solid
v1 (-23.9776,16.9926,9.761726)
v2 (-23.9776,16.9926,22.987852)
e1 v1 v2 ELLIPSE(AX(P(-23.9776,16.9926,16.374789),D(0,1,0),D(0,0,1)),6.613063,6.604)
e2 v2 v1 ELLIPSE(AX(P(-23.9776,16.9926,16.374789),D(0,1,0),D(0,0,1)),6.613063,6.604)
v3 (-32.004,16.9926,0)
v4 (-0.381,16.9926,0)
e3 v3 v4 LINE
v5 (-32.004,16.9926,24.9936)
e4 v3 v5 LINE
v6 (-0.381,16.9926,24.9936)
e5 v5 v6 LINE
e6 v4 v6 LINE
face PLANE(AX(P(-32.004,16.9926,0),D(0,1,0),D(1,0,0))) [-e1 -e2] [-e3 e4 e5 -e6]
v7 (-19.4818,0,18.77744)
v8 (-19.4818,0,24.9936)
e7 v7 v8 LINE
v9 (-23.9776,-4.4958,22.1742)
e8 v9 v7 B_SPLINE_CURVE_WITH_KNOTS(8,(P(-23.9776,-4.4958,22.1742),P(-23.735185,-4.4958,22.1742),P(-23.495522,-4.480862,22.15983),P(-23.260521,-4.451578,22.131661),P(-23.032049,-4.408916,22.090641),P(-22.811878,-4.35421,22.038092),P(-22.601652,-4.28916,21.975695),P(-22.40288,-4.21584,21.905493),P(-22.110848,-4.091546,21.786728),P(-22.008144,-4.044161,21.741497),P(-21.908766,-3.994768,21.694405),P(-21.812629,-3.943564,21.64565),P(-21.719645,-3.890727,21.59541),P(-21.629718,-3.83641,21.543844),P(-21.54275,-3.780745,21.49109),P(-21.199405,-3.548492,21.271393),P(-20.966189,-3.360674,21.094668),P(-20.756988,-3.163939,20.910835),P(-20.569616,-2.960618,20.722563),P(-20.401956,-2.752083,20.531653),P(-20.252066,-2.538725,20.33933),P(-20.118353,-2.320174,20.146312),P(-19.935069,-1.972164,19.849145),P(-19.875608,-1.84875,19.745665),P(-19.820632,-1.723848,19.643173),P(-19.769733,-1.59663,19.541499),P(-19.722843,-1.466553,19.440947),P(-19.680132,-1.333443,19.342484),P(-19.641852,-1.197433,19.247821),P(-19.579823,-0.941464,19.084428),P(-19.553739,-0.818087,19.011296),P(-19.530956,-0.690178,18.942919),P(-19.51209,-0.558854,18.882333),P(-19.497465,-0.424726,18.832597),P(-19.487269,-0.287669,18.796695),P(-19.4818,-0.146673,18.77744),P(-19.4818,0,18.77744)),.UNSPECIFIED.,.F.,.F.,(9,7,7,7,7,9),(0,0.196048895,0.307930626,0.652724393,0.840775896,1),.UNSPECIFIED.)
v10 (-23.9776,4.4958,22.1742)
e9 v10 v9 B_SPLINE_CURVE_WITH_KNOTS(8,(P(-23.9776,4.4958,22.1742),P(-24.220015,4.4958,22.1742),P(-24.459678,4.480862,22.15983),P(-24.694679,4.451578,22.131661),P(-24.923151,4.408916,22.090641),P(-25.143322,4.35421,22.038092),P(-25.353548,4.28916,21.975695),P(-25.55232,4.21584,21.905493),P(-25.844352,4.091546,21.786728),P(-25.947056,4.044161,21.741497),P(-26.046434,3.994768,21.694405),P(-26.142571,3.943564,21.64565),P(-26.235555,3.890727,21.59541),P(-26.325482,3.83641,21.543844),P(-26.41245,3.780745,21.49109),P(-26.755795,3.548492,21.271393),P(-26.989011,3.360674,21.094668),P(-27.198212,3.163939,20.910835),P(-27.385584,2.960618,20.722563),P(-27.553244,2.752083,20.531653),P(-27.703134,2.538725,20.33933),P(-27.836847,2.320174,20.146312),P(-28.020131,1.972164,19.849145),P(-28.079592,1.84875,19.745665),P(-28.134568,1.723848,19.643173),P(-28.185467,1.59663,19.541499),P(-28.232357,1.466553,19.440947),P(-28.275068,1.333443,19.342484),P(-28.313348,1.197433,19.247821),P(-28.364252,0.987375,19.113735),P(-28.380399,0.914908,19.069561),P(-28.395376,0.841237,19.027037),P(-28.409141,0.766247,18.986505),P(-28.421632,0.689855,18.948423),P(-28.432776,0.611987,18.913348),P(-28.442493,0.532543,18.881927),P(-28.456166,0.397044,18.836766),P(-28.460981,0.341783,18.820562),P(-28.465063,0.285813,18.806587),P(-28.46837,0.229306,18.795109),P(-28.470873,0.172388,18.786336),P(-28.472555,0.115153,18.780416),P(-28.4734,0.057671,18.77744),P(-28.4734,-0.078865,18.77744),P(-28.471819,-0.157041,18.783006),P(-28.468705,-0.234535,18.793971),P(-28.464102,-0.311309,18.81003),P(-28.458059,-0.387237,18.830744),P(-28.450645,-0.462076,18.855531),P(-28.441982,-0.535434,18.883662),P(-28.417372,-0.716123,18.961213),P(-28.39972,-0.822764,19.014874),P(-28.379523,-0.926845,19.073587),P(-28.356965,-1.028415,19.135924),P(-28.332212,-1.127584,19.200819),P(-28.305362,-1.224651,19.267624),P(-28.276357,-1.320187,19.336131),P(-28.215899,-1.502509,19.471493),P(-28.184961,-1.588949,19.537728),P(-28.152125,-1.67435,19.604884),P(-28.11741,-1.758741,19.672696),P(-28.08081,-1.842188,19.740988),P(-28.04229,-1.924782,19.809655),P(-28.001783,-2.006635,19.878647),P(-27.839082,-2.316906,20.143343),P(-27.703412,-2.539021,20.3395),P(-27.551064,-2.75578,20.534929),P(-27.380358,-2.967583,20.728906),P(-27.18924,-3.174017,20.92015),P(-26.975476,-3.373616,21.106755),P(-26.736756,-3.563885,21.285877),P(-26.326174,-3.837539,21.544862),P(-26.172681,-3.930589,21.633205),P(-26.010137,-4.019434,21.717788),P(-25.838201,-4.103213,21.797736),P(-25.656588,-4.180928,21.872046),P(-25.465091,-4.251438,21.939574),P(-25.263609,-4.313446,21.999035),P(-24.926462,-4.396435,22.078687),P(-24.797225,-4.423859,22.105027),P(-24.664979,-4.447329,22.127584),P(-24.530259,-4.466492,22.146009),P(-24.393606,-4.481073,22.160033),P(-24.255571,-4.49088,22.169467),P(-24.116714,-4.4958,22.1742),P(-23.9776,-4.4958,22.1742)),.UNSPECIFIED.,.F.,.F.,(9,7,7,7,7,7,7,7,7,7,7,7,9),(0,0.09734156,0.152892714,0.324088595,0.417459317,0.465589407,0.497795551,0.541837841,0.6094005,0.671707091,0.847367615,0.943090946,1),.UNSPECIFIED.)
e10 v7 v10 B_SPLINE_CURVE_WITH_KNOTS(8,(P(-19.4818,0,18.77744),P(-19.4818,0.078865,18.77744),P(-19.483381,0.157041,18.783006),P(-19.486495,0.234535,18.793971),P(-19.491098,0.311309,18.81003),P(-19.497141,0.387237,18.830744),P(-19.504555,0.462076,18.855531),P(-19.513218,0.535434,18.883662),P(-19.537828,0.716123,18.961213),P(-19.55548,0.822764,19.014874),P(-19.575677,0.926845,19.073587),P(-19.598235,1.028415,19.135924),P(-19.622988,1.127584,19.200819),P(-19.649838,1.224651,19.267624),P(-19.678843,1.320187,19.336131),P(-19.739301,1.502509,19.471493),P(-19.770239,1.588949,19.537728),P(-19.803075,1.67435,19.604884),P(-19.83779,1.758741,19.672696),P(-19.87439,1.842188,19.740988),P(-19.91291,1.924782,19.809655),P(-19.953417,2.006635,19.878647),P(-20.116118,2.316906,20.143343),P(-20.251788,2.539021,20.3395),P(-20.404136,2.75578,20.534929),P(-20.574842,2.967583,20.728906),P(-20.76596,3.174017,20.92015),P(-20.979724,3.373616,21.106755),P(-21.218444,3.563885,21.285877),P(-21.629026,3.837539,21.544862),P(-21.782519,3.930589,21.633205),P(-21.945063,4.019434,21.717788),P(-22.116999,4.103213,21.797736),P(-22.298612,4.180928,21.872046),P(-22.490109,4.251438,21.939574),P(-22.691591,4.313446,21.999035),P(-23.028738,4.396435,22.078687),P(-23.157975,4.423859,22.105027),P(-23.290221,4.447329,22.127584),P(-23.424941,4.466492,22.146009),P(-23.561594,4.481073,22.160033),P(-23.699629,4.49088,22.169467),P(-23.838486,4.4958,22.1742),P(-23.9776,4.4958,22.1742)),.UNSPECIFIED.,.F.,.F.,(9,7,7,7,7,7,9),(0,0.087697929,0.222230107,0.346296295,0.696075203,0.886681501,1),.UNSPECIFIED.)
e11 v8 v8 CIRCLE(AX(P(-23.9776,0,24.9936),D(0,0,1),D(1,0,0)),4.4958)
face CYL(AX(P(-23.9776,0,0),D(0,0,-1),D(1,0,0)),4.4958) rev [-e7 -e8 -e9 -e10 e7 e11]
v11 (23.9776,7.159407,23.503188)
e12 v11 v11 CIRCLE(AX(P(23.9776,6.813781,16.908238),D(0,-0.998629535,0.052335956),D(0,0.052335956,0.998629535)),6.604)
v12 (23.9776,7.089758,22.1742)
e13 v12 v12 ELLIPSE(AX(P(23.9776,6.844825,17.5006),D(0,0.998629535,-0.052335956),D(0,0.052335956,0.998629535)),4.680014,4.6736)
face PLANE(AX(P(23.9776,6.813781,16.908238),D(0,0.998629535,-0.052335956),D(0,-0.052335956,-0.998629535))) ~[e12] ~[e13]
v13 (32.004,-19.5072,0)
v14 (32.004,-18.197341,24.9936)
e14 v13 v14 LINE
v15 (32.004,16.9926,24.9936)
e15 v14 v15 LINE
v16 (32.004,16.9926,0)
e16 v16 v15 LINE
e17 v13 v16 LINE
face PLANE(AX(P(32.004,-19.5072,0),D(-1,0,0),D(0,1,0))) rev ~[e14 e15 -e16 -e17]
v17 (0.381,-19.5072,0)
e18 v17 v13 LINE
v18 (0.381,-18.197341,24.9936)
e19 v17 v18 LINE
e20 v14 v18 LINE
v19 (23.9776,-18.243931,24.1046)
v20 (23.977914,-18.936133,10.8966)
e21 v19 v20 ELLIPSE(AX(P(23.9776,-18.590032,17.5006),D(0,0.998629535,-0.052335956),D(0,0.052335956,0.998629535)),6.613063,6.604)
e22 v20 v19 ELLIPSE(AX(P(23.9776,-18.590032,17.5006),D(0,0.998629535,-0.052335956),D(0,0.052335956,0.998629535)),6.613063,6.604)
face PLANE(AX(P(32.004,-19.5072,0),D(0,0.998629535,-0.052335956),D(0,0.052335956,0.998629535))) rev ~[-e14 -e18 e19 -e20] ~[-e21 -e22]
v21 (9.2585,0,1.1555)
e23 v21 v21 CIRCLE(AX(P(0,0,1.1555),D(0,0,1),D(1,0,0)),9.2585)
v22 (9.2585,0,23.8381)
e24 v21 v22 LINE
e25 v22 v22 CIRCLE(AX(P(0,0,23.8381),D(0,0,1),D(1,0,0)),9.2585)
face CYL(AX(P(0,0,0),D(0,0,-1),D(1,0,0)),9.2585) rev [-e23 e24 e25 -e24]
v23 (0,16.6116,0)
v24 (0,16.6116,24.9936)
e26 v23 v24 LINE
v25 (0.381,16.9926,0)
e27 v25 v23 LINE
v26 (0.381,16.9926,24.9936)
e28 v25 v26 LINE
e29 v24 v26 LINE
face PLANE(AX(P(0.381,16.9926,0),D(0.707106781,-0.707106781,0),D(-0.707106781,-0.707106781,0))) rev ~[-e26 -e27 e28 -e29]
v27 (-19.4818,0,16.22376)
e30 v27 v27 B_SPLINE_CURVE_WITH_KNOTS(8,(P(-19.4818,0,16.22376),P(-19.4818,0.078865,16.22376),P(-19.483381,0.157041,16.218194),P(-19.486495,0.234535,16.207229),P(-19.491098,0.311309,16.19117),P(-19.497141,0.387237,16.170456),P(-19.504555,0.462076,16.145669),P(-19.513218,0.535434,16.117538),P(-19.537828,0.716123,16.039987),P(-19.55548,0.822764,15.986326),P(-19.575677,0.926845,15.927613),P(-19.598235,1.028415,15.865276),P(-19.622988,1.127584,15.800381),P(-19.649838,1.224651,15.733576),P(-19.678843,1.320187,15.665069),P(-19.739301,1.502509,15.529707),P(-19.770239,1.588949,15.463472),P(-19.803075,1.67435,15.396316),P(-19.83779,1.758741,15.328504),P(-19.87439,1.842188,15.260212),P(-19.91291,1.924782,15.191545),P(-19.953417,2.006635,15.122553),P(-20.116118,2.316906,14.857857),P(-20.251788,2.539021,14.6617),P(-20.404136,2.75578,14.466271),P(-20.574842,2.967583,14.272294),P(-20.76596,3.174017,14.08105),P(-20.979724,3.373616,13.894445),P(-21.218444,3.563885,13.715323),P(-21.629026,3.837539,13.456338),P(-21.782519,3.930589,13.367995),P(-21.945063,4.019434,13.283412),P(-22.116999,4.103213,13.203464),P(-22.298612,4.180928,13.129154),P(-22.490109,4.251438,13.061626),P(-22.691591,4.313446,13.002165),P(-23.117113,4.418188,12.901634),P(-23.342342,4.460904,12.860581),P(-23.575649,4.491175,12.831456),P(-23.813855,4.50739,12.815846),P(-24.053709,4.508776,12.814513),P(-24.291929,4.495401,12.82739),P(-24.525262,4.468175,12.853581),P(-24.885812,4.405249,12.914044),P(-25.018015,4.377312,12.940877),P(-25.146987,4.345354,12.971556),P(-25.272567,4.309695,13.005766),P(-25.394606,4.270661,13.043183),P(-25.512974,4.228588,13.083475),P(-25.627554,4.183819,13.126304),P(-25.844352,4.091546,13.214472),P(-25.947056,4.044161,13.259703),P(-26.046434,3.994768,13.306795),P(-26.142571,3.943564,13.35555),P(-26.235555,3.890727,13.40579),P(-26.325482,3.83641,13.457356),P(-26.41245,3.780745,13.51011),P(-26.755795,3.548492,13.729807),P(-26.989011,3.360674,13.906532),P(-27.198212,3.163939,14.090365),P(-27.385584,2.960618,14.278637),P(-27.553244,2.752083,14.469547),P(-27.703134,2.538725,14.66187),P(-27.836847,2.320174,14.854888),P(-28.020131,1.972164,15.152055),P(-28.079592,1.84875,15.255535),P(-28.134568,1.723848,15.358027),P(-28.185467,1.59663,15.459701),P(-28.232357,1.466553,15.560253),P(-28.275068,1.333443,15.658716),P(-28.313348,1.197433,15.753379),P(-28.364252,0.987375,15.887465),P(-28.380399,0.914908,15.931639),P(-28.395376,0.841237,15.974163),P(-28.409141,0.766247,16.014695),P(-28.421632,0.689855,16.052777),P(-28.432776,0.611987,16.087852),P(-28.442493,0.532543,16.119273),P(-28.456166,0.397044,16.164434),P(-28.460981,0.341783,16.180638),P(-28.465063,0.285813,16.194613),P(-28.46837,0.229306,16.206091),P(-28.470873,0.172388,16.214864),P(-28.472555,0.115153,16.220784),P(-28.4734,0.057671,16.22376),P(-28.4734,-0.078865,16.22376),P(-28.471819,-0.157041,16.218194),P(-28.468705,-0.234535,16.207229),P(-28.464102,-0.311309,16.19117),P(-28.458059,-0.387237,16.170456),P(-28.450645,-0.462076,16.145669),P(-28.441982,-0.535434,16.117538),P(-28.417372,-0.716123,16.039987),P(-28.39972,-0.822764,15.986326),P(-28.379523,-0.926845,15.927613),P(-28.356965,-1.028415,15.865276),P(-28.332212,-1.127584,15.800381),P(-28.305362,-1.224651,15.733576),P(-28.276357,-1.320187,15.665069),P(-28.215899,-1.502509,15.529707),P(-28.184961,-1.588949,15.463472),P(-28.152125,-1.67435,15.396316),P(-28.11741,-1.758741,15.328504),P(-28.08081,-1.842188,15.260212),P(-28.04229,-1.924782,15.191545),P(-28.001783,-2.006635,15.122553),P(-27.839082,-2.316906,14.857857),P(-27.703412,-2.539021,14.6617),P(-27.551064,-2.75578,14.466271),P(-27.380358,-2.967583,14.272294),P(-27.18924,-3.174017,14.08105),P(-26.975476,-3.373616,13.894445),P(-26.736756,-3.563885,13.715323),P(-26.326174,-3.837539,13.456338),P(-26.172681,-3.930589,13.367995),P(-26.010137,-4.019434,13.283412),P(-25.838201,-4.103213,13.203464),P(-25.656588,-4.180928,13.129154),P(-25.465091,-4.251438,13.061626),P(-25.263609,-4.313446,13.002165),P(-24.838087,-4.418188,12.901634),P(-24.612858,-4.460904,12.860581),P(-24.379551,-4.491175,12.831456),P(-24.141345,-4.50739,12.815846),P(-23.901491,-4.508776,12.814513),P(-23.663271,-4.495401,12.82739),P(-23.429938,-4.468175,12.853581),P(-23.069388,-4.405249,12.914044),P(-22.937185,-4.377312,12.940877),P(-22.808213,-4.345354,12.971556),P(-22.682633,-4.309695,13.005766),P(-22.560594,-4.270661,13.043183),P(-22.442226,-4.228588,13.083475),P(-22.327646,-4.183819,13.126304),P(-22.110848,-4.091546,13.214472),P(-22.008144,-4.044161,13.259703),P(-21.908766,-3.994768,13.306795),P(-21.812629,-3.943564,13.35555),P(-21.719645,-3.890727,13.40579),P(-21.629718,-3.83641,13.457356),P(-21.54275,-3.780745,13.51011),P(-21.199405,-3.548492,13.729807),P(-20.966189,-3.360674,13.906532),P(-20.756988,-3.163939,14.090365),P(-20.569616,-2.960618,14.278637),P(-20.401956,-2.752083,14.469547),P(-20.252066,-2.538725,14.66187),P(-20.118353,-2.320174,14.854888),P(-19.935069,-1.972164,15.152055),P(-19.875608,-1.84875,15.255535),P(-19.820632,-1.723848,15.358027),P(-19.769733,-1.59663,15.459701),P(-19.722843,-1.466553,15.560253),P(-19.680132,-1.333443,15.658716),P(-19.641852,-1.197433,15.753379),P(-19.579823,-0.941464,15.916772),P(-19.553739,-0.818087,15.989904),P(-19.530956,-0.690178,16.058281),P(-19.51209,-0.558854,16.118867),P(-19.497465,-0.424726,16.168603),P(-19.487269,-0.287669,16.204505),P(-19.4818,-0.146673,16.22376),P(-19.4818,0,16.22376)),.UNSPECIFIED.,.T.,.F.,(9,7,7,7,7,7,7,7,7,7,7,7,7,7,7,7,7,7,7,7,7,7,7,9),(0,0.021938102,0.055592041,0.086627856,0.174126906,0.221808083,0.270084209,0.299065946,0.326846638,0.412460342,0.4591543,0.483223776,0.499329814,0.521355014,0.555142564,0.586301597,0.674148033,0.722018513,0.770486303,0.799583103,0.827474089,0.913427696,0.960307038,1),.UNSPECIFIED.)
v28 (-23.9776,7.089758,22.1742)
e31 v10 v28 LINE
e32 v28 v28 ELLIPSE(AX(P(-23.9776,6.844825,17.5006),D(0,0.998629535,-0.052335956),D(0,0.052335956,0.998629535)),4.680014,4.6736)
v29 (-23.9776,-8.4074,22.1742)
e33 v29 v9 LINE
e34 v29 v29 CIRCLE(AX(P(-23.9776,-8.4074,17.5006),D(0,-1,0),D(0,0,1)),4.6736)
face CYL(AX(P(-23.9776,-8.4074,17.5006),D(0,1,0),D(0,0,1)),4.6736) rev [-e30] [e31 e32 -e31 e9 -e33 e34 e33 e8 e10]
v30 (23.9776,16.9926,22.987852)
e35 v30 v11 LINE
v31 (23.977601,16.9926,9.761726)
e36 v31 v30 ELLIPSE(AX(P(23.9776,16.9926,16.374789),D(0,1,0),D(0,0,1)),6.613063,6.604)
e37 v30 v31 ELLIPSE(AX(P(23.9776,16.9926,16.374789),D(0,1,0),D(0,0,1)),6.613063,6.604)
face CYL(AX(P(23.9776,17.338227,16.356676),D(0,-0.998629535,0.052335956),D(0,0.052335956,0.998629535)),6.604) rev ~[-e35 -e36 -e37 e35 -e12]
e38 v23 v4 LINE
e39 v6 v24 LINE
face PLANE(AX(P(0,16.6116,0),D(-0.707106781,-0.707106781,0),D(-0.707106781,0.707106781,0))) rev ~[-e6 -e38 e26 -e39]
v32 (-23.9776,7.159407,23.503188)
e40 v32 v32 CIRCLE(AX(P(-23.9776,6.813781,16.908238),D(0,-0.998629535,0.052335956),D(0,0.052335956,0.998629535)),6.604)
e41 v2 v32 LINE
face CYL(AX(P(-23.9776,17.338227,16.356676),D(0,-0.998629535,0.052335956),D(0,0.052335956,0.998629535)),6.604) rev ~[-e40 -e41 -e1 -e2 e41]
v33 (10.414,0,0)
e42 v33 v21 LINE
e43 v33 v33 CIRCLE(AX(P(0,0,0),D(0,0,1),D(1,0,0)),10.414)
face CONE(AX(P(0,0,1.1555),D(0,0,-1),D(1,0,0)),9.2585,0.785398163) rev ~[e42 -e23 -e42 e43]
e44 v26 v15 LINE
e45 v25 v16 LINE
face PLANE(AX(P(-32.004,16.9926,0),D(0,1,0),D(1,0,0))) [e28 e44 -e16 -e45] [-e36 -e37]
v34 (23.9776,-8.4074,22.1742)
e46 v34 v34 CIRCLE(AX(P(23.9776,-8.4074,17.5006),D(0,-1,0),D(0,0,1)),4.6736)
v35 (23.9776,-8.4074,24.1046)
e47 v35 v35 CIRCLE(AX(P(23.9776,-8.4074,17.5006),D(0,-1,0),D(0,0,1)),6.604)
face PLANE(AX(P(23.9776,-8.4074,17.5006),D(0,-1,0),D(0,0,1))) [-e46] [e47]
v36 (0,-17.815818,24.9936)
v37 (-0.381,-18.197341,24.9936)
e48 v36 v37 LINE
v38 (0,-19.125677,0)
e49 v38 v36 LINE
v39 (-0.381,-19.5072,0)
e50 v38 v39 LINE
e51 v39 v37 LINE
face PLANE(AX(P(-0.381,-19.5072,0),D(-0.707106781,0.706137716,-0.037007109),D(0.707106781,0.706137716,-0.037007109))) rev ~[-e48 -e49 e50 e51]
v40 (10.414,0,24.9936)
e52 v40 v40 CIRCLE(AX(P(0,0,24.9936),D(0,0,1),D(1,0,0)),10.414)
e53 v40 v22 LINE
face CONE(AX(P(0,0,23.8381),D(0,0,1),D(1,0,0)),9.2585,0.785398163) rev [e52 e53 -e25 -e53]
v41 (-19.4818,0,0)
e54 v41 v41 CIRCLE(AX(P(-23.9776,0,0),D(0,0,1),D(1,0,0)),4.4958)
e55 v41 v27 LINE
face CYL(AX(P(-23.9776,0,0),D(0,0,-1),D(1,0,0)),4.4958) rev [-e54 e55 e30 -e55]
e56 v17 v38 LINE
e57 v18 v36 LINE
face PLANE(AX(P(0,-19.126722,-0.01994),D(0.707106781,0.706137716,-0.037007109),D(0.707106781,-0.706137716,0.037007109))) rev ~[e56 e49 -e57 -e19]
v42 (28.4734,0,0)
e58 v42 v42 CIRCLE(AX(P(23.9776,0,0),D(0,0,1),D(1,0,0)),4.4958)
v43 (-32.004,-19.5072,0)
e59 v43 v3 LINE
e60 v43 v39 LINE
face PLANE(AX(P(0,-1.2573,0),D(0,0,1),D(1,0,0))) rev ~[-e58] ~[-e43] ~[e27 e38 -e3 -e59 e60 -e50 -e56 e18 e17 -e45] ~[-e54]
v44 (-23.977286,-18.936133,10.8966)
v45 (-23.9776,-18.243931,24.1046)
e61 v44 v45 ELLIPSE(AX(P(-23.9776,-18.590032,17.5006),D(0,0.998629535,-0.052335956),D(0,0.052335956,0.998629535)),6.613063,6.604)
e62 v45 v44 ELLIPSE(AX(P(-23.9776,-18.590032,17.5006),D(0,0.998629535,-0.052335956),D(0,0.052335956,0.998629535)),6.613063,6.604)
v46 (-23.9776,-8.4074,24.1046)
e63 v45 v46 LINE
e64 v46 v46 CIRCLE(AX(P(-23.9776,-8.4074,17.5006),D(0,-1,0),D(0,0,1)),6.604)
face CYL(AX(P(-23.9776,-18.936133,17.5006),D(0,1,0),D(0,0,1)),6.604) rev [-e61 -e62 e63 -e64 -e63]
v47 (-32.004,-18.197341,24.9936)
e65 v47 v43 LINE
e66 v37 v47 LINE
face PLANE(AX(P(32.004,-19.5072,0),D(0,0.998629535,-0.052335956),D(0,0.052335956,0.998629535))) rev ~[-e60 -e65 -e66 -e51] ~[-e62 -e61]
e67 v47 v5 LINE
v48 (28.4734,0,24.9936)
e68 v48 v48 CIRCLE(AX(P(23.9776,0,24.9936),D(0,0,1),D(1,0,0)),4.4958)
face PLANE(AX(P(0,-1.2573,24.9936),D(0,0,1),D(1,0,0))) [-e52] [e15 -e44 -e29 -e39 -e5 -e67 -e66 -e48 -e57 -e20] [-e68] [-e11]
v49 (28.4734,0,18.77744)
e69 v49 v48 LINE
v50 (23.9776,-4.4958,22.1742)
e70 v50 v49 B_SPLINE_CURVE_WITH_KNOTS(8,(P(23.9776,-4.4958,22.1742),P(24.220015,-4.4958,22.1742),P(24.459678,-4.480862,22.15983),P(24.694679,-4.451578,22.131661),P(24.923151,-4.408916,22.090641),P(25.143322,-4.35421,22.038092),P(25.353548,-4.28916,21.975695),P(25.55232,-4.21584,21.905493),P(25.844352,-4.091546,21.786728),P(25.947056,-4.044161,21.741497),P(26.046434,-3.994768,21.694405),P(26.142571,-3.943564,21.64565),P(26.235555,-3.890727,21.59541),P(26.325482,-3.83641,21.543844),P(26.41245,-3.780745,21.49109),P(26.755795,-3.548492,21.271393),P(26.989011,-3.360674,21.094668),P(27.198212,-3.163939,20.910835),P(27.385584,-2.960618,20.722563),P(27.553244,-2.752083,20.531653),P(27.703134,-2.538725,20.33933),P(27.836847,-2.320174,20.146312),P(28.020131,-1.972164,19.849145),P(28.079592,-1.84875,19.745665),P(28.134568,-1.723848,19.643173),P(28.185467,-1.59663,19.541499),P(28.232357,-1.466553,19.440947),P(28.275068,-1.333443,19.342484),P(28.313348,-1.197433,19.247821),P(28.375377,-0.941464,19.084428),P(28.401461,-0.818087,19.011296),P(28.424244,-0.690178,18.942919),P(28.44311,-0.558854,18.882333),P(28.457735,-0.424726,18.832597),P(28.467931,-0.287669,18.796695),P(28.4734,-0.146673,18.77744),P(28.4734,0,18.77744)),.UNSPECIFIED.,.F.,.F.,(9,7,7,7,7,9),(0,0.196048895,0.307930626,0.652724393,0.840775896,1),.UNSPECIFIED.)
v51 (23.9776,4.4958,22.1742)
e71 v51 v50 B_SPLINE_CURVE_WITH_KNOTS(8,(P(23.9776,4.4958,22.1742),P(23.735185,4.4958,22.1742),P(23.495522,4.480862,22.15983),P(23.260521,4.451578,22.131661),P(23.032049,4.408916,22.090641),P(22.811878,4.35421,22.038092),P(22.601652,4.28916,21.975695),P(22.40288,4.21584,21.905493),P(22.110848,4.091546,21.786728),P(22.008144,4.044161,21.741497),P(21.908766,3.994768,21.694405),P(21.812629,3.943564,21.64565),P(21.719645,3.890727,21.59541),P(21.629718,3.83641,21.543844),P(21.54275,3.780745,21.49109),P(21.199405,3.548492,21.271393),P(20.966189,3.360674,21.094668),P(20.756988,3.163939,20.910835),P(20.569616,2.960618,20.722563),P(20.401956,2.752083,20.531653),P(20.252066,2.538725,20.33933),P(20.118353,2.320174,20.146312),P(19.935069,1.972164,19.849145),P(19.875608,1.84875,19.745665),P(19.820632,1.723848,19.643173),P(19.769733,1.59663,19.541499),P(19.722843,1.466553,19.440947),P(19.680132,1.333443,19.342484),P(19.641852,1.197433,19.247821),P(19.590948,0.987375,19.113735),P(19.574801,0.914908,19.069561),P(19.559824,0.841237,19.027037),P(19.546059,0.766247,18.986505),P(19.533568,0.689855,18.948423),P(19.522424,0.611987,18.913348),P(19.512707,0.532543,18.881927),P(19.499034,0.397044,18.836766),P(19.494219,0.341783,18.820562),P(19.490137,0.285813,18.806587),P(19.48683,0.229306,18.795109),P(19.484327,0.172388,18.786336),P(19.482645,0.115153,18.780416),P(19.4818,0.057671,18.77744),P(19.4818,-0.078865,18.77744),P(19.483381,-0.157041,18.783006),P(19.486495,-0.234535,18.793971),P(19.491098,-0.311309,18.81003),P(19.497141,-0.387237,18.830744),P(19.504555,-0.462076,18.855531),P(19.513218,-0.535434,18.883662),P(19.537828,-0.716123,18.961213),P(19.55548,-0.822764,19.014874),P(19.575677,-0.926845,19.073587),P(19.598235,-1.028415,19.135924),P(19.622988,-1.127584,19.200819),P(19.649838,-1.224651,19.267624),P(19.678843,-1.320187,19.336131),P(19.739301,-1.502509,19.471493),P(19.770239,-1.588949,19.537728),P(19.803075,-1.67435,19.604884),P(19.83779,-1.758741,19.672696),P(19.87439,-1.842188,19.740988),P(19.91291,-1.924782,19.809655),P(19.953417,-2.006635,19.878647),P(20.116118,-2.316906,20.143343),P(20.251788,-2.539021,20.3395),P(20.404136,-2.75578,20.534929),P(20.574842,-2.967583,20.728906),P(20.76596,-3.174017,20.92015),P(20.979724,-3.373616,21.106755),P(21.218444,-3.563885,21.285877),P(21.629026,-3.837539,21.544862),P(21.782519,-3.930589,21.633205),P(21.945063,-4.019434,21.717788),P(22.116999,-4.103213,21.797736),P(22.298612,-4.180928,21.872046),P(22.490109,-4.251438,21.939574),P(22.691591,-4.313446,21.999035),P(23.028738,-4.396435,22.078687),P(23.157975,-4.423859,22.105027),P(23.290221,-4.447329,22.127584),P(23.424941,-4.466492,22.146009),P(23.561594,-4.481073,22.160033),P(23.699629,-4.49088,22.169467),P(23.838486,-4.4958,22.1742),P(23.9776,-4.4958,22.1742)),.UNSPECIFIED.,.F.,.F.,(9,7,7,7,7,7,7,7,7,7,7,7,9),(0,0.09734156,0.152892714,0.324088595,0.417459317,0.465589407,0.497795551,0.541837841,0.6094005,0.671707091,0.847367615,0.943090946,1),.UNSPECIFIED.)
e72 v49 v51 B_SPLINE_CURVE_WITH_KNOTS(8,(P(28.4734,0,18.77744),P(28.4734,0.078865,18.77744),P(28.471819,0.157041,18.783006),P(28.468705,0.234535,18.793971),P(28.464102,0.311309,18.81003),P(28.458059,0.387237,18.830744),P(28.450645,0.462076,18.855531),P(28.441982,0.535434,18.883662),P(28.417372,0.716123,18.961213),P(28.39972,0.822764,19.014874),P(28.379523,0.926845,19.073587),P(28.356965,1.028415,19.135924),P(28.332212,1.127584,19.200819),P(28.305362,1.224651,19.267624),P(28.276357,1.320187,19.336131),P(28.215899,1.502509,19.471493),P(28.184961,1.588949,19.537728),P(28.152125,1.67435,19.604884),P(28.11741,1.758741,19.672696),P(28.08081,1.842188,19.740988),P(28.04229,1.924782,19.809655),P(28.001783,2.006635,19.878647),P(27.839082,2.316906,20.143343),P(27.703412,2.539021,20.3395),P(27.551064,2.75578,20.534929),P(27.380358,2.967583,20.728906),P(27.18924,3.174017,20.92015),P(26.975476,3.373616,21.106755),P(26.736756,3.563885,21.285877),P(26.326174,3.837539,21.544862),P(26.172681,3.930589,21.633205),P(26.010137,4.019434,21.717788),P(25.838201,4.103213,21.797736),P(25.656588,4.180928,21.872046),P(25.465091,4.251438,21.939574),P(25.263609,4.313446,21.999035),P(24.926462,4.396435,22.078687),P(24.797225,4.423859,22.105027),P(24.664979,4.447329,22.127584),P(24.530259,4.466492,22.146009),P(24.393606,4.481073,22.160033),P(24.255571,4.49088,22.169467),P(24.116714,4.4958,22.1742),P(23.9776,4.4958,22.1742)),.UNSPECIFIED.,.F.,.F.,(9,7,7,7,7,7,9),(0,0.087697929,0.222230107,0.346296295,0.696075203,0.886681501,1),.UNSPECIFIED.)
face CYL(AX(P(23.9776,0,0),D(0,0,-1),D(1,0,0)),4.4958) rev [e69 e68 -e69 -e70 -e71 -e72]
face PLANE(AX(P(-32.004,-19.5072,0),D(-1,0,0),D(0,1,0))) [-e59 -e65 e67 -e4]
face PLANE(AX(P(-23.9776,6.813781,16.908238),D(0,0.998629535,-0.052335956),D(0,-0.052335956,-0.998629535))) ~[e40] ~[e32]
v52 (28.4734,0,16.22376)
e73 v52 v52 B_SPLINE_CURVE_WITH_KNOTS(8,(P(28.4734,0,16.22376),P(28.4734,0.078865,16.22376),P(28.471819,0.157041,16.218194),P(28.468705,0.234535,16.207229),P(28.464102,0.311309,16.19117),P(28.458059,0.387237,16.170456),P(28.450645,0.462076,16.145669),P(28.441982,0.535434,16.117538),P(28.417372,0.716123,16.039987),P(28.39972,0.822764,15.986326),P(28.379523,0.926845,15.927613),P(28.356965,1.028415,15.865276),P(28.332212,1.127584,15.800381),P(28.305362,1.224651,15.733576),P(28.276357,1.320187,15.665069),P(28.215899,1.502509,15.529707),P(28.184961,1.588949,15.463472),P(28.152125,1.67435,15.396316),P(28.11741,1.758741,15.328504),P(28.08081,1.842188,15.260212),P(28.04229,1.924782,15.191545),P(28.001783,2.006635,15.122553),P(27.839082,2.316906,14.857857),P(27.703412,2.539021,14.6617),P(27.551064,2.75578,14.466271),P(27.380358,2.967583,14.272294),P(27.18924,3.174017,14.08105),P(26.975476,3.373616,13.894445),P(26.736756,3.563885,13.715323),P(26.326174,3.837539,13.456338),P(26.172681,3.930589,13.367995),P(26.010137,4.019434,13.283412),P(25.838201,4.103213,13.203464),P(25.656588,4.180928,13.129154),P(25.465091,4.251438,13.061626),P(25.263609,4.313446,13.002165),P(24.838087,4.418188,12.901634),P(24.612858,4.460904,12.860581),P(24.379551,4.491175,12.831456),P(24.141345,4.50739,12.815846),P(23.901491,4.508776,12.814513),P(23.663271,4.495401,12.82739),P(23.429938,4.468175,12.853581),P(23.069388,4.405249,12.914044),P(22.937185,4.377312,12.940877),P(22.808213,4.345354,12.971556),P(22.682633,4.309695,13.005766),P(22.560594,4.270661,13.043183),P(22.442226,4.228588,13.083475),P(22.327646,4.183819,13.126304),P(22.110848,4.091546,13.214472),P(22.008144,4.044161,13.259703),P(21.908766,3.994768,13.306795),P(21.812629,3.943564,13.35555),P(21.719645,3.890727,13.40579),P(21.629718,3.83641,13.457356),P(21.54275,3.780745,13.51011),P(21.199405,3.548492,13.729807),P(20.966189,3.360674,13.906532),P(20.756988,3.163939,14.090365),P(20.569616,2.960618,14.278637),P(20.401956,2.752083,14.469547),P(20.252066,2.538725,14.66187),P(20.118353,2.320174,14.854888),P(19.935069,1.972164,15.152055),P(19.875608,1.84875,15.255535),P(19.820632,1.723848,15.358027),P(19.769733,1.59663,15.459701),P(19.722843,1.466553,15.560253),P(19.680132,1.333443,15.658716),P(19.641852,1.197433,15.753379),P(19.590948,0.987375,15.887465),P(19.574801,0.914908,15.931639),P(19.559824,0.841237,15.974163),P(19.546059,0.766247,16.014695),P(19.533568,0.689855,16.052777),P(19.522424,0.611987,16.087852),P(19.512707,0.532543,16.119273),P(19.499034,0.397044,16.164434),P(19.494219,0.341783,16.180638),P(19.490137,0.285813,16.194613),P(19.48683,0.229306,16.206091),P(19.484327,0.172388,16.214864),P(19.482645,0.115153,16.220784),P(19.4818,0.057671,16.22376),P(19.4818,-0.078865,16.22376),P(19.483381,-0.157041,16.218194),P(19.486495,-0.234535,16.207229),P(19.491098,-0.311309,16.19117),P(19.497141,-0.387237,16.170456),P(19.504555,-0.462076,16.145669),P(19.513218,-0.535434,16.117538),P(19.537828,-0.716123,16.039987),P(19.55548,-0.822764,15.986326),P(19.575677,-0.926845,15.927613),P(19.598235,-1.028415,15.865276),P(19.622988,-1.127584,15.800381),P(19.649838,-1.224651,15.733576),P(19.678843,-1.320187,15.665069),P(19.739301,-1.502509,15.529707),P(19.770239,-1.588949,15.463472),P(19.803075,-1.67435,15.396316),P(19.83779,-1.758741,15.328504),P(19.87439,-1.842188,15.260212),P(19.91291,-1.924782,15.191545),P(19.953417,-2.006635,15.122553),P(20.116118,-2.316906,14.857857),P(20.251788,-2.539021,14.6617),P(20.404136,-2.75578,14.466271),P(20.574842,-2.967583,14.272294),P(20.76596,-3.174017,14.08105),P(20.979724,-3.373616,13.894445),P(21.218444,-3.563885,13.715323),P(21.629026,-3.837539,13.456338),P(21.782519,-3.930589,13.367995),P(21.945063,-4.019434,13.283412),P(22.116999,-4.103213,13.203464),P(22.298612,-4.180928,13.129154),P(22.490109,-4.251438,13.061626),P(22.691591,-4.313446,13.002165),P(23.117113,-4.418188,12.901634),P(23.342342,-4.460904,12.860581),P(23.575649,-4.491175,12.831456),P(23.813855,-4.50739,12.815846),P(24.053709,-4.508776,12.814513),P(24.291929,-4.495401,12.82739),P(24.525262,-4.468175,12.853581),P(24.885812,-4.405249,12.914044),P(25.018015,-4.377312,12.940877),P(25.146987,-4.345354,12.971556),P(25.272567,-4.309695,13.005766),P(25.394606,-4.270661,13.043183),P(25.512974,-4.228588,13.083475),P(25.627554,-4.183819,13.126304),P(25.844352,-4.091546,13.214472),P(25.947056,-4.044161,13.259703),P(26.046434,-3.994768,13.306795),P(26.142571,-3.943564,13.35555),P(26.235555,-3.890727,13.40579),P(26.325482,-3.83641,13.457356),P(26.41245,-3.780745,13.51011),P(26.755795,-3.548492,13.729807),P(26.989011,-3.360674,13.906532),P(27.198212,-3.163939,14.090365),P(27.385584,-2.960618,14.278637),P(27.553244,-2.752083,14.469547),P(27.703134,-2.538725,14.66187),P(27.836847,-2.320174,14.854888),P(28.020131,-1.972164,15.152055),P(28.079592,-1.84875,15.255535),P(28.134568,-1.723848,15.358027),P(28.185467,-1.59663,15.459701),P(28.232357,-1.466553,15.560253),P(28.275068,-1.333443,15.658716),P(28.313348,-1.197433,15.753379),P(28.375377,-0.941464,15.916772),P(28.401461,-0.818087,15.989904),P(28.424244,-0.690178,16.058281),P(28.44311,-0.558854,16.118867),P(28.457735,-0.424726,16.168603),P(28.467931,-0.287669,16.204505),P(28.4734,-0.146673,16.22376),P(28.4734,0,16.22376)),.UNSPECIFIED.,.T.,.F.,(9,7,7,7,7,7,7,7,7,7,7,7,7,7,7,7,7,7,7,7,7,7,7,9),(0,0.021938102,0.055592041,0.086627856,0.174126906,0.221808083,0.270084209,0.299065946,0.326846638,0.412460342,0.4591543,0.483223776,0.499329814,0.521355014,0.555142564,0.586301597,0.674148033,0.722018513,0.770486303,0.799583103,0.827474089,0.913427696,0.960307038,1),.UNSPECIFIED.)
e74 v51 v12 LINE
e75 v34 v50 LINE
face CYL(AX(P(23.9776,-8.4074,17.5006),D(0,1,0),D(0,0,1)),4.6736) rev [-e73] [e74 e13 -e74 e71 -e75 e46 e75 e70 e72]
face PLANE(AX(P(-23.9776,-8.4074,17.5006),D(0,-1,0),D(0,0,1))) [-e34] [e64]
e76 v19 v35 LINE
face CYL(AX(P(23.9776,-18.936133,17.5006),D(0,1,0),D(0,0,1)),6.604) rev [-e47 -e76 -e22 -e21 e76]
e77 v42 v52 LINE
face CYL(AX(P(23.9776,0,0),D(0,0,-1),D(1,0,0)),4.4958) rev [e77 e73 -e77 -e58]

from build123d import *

# Parameters (mm, degrees)
SKETCH1_W          = 64.008
SKETCH1_H          = 36.4998
SKETCH1_R          = 9.2585
SKETCH1_R_2        = 4.4958
EXTRUDE1_DEPTH     = 24.9936
CUT_EXTRUDE1_DEPTH = 65.008
LPATTERN1_COUNT    = 2
LPATTERN1_PITCH    = 47.9552
CHAMFER1_SIZE      = 1.1555
CUT_EXTRUDE2_DEPTH = 25.9936001
CUT_EXTRUDE3_DEPTH = 27.869599175


with BuildPart() as part:
    # Sketch1 → Extrude1 (new body)
    with BuildSketch(Plane.XY):
        with Locations((0, -1.2573)):
            Rectangle(SKETCH1_W, SKETCH1_H)
        Circle(SKETCH1_R, mode=Mode.SUBTRACT)
        with Locations((-23.9776, 0)):
            Circle(SKETCH1_R_2, mode=Mode.SUBTRACT)
        with Locations((23.9776, 0)):
            Circle(SKETCH1_R_2, mode=Mode.SUBTRACT)
    extrude(amount=EXTRUDE1_DEPTH)

    # Sketch2 → Cut-Extrude1 (cut, through all)
    with BuildSketch(Plane(origin=(32.004, 0, 0), x_dir=(0, 0, -1), z_dir=(1, 0, 0))):
        Polygon((0, -19.5072), (-24.9936, -18.197340928), (-24.9936, -19.5072), align=None)
    extrude(amount=-CUT_EXTRUDE1_DEPTH, mode=Mode.SUBTRACT)

    # Sketch3 → Cut-Revolve1 (revolve, cut)
    with BuildSketch(Plane(origin=(-23.9776, 0, 0), x_dir=(0, 0, -1), z_dir=(1, 0, 0)), mode=Mode.PRIVATE) as cut_revolve1_sk:
        Polygon((-10.8966, -18.936133392), (-10.8966, -8.4074), (-12.827, -8.4074), (-12.827, 16.9926), (-17.5006, 16.9926), (-17.5006, -18.936133392), align=None)
    cut_revolve1 = revolve(cut_revolve1_sk.sketch.rotate(Axis((-23.9776, 16.931830478, 17.5006), (0, -1, 0)), 180), axis=Axis((-23.9776, 16.931830478, 17.5006), (0, -1, 0)), mode=Mode.SUBTRACT)  # turned: the seam where the file's is

    # Sketch4 → Cut-Revolve2 (revolve, cut)
    with BuildSketch(Plane(origin=(-23.9776, 0, 0), x_dir=(0, 0, -1), z_dir=(1, 0, 0)), mode=Mode.PRIVATE) as cut_revolve2_sk:
        Polygon((-9.761726171, 16.9926), (-10.313289005, 6.468154162), (-16.908238453, 6.813780817), (-16.356675618, 17.338226655), align=None)
    cut_revolve2 = revolve(cut_revolve2_sk.sketch.rotate(Axis((-23.9776, 21.413064128, 16.143122435), (0, -0.998629535, 0.052335956)), 180), axis=Axis((-23.9776, 21.413064128, 16.143122435), (0, -0.998629535, 0.052335956)), mode=Mode.SUBTRACT)  # turned: the seam where the file's is

    # LPattern1: Cut-Revolve1, Cut-Revolve2 ×2
    with Locations(*[(i * LPATTERN1_PITCH, 0, 0) for i in range(1, LPATTERN1_COUNT)]):
        add(cut_revolve1, mode=Mode.SUBTRACT)
        add(cut_revolve2, mode=Mode.SUBTRACT)

    # Chamfer1
    chamfer1_edges = [part.edges().sort_by_distance(p)[0] for p in [
        (-9.2585, 0, 0),
        (-9.2585, 0, 24.9936),
    ]]
    chamfer(chamfer1_edges, length=CHAMFER1_SIZE)

    # Sketch5 → Cut-Extrude2 (cut, through all)
    with BuildSketch(Plane(origin=(0, 0, 0), x_dir=(-1, 0, 0), z_dir=(0, 0, -1))):
        Polygon((-0.381, 16.9926), (0, 16.6116), (0.381, 16.9926), align=None)
    extrude(amount=-CUT_EXTRUDE2_DEPTH, mode=Mode.SUBTRACT)

    # Sketch6 → Cut-Extrude3 (cut, through all)
    with BuildSketch(Plane(origin=(0, -0.053431241, -1.019528819), x_dir=(-1, 0, 0), z_dir=(0, -0.052335956, -0.998629535))):
        Polygon((0.381, -19.48046606), (0, -19.09946606), (-0.381, -19.48046606), align=None)
    extrude(amount=-CUT_EXTRUDE3_DEPTH, mode=Mode.SUBTRACT)


solid = part.part
